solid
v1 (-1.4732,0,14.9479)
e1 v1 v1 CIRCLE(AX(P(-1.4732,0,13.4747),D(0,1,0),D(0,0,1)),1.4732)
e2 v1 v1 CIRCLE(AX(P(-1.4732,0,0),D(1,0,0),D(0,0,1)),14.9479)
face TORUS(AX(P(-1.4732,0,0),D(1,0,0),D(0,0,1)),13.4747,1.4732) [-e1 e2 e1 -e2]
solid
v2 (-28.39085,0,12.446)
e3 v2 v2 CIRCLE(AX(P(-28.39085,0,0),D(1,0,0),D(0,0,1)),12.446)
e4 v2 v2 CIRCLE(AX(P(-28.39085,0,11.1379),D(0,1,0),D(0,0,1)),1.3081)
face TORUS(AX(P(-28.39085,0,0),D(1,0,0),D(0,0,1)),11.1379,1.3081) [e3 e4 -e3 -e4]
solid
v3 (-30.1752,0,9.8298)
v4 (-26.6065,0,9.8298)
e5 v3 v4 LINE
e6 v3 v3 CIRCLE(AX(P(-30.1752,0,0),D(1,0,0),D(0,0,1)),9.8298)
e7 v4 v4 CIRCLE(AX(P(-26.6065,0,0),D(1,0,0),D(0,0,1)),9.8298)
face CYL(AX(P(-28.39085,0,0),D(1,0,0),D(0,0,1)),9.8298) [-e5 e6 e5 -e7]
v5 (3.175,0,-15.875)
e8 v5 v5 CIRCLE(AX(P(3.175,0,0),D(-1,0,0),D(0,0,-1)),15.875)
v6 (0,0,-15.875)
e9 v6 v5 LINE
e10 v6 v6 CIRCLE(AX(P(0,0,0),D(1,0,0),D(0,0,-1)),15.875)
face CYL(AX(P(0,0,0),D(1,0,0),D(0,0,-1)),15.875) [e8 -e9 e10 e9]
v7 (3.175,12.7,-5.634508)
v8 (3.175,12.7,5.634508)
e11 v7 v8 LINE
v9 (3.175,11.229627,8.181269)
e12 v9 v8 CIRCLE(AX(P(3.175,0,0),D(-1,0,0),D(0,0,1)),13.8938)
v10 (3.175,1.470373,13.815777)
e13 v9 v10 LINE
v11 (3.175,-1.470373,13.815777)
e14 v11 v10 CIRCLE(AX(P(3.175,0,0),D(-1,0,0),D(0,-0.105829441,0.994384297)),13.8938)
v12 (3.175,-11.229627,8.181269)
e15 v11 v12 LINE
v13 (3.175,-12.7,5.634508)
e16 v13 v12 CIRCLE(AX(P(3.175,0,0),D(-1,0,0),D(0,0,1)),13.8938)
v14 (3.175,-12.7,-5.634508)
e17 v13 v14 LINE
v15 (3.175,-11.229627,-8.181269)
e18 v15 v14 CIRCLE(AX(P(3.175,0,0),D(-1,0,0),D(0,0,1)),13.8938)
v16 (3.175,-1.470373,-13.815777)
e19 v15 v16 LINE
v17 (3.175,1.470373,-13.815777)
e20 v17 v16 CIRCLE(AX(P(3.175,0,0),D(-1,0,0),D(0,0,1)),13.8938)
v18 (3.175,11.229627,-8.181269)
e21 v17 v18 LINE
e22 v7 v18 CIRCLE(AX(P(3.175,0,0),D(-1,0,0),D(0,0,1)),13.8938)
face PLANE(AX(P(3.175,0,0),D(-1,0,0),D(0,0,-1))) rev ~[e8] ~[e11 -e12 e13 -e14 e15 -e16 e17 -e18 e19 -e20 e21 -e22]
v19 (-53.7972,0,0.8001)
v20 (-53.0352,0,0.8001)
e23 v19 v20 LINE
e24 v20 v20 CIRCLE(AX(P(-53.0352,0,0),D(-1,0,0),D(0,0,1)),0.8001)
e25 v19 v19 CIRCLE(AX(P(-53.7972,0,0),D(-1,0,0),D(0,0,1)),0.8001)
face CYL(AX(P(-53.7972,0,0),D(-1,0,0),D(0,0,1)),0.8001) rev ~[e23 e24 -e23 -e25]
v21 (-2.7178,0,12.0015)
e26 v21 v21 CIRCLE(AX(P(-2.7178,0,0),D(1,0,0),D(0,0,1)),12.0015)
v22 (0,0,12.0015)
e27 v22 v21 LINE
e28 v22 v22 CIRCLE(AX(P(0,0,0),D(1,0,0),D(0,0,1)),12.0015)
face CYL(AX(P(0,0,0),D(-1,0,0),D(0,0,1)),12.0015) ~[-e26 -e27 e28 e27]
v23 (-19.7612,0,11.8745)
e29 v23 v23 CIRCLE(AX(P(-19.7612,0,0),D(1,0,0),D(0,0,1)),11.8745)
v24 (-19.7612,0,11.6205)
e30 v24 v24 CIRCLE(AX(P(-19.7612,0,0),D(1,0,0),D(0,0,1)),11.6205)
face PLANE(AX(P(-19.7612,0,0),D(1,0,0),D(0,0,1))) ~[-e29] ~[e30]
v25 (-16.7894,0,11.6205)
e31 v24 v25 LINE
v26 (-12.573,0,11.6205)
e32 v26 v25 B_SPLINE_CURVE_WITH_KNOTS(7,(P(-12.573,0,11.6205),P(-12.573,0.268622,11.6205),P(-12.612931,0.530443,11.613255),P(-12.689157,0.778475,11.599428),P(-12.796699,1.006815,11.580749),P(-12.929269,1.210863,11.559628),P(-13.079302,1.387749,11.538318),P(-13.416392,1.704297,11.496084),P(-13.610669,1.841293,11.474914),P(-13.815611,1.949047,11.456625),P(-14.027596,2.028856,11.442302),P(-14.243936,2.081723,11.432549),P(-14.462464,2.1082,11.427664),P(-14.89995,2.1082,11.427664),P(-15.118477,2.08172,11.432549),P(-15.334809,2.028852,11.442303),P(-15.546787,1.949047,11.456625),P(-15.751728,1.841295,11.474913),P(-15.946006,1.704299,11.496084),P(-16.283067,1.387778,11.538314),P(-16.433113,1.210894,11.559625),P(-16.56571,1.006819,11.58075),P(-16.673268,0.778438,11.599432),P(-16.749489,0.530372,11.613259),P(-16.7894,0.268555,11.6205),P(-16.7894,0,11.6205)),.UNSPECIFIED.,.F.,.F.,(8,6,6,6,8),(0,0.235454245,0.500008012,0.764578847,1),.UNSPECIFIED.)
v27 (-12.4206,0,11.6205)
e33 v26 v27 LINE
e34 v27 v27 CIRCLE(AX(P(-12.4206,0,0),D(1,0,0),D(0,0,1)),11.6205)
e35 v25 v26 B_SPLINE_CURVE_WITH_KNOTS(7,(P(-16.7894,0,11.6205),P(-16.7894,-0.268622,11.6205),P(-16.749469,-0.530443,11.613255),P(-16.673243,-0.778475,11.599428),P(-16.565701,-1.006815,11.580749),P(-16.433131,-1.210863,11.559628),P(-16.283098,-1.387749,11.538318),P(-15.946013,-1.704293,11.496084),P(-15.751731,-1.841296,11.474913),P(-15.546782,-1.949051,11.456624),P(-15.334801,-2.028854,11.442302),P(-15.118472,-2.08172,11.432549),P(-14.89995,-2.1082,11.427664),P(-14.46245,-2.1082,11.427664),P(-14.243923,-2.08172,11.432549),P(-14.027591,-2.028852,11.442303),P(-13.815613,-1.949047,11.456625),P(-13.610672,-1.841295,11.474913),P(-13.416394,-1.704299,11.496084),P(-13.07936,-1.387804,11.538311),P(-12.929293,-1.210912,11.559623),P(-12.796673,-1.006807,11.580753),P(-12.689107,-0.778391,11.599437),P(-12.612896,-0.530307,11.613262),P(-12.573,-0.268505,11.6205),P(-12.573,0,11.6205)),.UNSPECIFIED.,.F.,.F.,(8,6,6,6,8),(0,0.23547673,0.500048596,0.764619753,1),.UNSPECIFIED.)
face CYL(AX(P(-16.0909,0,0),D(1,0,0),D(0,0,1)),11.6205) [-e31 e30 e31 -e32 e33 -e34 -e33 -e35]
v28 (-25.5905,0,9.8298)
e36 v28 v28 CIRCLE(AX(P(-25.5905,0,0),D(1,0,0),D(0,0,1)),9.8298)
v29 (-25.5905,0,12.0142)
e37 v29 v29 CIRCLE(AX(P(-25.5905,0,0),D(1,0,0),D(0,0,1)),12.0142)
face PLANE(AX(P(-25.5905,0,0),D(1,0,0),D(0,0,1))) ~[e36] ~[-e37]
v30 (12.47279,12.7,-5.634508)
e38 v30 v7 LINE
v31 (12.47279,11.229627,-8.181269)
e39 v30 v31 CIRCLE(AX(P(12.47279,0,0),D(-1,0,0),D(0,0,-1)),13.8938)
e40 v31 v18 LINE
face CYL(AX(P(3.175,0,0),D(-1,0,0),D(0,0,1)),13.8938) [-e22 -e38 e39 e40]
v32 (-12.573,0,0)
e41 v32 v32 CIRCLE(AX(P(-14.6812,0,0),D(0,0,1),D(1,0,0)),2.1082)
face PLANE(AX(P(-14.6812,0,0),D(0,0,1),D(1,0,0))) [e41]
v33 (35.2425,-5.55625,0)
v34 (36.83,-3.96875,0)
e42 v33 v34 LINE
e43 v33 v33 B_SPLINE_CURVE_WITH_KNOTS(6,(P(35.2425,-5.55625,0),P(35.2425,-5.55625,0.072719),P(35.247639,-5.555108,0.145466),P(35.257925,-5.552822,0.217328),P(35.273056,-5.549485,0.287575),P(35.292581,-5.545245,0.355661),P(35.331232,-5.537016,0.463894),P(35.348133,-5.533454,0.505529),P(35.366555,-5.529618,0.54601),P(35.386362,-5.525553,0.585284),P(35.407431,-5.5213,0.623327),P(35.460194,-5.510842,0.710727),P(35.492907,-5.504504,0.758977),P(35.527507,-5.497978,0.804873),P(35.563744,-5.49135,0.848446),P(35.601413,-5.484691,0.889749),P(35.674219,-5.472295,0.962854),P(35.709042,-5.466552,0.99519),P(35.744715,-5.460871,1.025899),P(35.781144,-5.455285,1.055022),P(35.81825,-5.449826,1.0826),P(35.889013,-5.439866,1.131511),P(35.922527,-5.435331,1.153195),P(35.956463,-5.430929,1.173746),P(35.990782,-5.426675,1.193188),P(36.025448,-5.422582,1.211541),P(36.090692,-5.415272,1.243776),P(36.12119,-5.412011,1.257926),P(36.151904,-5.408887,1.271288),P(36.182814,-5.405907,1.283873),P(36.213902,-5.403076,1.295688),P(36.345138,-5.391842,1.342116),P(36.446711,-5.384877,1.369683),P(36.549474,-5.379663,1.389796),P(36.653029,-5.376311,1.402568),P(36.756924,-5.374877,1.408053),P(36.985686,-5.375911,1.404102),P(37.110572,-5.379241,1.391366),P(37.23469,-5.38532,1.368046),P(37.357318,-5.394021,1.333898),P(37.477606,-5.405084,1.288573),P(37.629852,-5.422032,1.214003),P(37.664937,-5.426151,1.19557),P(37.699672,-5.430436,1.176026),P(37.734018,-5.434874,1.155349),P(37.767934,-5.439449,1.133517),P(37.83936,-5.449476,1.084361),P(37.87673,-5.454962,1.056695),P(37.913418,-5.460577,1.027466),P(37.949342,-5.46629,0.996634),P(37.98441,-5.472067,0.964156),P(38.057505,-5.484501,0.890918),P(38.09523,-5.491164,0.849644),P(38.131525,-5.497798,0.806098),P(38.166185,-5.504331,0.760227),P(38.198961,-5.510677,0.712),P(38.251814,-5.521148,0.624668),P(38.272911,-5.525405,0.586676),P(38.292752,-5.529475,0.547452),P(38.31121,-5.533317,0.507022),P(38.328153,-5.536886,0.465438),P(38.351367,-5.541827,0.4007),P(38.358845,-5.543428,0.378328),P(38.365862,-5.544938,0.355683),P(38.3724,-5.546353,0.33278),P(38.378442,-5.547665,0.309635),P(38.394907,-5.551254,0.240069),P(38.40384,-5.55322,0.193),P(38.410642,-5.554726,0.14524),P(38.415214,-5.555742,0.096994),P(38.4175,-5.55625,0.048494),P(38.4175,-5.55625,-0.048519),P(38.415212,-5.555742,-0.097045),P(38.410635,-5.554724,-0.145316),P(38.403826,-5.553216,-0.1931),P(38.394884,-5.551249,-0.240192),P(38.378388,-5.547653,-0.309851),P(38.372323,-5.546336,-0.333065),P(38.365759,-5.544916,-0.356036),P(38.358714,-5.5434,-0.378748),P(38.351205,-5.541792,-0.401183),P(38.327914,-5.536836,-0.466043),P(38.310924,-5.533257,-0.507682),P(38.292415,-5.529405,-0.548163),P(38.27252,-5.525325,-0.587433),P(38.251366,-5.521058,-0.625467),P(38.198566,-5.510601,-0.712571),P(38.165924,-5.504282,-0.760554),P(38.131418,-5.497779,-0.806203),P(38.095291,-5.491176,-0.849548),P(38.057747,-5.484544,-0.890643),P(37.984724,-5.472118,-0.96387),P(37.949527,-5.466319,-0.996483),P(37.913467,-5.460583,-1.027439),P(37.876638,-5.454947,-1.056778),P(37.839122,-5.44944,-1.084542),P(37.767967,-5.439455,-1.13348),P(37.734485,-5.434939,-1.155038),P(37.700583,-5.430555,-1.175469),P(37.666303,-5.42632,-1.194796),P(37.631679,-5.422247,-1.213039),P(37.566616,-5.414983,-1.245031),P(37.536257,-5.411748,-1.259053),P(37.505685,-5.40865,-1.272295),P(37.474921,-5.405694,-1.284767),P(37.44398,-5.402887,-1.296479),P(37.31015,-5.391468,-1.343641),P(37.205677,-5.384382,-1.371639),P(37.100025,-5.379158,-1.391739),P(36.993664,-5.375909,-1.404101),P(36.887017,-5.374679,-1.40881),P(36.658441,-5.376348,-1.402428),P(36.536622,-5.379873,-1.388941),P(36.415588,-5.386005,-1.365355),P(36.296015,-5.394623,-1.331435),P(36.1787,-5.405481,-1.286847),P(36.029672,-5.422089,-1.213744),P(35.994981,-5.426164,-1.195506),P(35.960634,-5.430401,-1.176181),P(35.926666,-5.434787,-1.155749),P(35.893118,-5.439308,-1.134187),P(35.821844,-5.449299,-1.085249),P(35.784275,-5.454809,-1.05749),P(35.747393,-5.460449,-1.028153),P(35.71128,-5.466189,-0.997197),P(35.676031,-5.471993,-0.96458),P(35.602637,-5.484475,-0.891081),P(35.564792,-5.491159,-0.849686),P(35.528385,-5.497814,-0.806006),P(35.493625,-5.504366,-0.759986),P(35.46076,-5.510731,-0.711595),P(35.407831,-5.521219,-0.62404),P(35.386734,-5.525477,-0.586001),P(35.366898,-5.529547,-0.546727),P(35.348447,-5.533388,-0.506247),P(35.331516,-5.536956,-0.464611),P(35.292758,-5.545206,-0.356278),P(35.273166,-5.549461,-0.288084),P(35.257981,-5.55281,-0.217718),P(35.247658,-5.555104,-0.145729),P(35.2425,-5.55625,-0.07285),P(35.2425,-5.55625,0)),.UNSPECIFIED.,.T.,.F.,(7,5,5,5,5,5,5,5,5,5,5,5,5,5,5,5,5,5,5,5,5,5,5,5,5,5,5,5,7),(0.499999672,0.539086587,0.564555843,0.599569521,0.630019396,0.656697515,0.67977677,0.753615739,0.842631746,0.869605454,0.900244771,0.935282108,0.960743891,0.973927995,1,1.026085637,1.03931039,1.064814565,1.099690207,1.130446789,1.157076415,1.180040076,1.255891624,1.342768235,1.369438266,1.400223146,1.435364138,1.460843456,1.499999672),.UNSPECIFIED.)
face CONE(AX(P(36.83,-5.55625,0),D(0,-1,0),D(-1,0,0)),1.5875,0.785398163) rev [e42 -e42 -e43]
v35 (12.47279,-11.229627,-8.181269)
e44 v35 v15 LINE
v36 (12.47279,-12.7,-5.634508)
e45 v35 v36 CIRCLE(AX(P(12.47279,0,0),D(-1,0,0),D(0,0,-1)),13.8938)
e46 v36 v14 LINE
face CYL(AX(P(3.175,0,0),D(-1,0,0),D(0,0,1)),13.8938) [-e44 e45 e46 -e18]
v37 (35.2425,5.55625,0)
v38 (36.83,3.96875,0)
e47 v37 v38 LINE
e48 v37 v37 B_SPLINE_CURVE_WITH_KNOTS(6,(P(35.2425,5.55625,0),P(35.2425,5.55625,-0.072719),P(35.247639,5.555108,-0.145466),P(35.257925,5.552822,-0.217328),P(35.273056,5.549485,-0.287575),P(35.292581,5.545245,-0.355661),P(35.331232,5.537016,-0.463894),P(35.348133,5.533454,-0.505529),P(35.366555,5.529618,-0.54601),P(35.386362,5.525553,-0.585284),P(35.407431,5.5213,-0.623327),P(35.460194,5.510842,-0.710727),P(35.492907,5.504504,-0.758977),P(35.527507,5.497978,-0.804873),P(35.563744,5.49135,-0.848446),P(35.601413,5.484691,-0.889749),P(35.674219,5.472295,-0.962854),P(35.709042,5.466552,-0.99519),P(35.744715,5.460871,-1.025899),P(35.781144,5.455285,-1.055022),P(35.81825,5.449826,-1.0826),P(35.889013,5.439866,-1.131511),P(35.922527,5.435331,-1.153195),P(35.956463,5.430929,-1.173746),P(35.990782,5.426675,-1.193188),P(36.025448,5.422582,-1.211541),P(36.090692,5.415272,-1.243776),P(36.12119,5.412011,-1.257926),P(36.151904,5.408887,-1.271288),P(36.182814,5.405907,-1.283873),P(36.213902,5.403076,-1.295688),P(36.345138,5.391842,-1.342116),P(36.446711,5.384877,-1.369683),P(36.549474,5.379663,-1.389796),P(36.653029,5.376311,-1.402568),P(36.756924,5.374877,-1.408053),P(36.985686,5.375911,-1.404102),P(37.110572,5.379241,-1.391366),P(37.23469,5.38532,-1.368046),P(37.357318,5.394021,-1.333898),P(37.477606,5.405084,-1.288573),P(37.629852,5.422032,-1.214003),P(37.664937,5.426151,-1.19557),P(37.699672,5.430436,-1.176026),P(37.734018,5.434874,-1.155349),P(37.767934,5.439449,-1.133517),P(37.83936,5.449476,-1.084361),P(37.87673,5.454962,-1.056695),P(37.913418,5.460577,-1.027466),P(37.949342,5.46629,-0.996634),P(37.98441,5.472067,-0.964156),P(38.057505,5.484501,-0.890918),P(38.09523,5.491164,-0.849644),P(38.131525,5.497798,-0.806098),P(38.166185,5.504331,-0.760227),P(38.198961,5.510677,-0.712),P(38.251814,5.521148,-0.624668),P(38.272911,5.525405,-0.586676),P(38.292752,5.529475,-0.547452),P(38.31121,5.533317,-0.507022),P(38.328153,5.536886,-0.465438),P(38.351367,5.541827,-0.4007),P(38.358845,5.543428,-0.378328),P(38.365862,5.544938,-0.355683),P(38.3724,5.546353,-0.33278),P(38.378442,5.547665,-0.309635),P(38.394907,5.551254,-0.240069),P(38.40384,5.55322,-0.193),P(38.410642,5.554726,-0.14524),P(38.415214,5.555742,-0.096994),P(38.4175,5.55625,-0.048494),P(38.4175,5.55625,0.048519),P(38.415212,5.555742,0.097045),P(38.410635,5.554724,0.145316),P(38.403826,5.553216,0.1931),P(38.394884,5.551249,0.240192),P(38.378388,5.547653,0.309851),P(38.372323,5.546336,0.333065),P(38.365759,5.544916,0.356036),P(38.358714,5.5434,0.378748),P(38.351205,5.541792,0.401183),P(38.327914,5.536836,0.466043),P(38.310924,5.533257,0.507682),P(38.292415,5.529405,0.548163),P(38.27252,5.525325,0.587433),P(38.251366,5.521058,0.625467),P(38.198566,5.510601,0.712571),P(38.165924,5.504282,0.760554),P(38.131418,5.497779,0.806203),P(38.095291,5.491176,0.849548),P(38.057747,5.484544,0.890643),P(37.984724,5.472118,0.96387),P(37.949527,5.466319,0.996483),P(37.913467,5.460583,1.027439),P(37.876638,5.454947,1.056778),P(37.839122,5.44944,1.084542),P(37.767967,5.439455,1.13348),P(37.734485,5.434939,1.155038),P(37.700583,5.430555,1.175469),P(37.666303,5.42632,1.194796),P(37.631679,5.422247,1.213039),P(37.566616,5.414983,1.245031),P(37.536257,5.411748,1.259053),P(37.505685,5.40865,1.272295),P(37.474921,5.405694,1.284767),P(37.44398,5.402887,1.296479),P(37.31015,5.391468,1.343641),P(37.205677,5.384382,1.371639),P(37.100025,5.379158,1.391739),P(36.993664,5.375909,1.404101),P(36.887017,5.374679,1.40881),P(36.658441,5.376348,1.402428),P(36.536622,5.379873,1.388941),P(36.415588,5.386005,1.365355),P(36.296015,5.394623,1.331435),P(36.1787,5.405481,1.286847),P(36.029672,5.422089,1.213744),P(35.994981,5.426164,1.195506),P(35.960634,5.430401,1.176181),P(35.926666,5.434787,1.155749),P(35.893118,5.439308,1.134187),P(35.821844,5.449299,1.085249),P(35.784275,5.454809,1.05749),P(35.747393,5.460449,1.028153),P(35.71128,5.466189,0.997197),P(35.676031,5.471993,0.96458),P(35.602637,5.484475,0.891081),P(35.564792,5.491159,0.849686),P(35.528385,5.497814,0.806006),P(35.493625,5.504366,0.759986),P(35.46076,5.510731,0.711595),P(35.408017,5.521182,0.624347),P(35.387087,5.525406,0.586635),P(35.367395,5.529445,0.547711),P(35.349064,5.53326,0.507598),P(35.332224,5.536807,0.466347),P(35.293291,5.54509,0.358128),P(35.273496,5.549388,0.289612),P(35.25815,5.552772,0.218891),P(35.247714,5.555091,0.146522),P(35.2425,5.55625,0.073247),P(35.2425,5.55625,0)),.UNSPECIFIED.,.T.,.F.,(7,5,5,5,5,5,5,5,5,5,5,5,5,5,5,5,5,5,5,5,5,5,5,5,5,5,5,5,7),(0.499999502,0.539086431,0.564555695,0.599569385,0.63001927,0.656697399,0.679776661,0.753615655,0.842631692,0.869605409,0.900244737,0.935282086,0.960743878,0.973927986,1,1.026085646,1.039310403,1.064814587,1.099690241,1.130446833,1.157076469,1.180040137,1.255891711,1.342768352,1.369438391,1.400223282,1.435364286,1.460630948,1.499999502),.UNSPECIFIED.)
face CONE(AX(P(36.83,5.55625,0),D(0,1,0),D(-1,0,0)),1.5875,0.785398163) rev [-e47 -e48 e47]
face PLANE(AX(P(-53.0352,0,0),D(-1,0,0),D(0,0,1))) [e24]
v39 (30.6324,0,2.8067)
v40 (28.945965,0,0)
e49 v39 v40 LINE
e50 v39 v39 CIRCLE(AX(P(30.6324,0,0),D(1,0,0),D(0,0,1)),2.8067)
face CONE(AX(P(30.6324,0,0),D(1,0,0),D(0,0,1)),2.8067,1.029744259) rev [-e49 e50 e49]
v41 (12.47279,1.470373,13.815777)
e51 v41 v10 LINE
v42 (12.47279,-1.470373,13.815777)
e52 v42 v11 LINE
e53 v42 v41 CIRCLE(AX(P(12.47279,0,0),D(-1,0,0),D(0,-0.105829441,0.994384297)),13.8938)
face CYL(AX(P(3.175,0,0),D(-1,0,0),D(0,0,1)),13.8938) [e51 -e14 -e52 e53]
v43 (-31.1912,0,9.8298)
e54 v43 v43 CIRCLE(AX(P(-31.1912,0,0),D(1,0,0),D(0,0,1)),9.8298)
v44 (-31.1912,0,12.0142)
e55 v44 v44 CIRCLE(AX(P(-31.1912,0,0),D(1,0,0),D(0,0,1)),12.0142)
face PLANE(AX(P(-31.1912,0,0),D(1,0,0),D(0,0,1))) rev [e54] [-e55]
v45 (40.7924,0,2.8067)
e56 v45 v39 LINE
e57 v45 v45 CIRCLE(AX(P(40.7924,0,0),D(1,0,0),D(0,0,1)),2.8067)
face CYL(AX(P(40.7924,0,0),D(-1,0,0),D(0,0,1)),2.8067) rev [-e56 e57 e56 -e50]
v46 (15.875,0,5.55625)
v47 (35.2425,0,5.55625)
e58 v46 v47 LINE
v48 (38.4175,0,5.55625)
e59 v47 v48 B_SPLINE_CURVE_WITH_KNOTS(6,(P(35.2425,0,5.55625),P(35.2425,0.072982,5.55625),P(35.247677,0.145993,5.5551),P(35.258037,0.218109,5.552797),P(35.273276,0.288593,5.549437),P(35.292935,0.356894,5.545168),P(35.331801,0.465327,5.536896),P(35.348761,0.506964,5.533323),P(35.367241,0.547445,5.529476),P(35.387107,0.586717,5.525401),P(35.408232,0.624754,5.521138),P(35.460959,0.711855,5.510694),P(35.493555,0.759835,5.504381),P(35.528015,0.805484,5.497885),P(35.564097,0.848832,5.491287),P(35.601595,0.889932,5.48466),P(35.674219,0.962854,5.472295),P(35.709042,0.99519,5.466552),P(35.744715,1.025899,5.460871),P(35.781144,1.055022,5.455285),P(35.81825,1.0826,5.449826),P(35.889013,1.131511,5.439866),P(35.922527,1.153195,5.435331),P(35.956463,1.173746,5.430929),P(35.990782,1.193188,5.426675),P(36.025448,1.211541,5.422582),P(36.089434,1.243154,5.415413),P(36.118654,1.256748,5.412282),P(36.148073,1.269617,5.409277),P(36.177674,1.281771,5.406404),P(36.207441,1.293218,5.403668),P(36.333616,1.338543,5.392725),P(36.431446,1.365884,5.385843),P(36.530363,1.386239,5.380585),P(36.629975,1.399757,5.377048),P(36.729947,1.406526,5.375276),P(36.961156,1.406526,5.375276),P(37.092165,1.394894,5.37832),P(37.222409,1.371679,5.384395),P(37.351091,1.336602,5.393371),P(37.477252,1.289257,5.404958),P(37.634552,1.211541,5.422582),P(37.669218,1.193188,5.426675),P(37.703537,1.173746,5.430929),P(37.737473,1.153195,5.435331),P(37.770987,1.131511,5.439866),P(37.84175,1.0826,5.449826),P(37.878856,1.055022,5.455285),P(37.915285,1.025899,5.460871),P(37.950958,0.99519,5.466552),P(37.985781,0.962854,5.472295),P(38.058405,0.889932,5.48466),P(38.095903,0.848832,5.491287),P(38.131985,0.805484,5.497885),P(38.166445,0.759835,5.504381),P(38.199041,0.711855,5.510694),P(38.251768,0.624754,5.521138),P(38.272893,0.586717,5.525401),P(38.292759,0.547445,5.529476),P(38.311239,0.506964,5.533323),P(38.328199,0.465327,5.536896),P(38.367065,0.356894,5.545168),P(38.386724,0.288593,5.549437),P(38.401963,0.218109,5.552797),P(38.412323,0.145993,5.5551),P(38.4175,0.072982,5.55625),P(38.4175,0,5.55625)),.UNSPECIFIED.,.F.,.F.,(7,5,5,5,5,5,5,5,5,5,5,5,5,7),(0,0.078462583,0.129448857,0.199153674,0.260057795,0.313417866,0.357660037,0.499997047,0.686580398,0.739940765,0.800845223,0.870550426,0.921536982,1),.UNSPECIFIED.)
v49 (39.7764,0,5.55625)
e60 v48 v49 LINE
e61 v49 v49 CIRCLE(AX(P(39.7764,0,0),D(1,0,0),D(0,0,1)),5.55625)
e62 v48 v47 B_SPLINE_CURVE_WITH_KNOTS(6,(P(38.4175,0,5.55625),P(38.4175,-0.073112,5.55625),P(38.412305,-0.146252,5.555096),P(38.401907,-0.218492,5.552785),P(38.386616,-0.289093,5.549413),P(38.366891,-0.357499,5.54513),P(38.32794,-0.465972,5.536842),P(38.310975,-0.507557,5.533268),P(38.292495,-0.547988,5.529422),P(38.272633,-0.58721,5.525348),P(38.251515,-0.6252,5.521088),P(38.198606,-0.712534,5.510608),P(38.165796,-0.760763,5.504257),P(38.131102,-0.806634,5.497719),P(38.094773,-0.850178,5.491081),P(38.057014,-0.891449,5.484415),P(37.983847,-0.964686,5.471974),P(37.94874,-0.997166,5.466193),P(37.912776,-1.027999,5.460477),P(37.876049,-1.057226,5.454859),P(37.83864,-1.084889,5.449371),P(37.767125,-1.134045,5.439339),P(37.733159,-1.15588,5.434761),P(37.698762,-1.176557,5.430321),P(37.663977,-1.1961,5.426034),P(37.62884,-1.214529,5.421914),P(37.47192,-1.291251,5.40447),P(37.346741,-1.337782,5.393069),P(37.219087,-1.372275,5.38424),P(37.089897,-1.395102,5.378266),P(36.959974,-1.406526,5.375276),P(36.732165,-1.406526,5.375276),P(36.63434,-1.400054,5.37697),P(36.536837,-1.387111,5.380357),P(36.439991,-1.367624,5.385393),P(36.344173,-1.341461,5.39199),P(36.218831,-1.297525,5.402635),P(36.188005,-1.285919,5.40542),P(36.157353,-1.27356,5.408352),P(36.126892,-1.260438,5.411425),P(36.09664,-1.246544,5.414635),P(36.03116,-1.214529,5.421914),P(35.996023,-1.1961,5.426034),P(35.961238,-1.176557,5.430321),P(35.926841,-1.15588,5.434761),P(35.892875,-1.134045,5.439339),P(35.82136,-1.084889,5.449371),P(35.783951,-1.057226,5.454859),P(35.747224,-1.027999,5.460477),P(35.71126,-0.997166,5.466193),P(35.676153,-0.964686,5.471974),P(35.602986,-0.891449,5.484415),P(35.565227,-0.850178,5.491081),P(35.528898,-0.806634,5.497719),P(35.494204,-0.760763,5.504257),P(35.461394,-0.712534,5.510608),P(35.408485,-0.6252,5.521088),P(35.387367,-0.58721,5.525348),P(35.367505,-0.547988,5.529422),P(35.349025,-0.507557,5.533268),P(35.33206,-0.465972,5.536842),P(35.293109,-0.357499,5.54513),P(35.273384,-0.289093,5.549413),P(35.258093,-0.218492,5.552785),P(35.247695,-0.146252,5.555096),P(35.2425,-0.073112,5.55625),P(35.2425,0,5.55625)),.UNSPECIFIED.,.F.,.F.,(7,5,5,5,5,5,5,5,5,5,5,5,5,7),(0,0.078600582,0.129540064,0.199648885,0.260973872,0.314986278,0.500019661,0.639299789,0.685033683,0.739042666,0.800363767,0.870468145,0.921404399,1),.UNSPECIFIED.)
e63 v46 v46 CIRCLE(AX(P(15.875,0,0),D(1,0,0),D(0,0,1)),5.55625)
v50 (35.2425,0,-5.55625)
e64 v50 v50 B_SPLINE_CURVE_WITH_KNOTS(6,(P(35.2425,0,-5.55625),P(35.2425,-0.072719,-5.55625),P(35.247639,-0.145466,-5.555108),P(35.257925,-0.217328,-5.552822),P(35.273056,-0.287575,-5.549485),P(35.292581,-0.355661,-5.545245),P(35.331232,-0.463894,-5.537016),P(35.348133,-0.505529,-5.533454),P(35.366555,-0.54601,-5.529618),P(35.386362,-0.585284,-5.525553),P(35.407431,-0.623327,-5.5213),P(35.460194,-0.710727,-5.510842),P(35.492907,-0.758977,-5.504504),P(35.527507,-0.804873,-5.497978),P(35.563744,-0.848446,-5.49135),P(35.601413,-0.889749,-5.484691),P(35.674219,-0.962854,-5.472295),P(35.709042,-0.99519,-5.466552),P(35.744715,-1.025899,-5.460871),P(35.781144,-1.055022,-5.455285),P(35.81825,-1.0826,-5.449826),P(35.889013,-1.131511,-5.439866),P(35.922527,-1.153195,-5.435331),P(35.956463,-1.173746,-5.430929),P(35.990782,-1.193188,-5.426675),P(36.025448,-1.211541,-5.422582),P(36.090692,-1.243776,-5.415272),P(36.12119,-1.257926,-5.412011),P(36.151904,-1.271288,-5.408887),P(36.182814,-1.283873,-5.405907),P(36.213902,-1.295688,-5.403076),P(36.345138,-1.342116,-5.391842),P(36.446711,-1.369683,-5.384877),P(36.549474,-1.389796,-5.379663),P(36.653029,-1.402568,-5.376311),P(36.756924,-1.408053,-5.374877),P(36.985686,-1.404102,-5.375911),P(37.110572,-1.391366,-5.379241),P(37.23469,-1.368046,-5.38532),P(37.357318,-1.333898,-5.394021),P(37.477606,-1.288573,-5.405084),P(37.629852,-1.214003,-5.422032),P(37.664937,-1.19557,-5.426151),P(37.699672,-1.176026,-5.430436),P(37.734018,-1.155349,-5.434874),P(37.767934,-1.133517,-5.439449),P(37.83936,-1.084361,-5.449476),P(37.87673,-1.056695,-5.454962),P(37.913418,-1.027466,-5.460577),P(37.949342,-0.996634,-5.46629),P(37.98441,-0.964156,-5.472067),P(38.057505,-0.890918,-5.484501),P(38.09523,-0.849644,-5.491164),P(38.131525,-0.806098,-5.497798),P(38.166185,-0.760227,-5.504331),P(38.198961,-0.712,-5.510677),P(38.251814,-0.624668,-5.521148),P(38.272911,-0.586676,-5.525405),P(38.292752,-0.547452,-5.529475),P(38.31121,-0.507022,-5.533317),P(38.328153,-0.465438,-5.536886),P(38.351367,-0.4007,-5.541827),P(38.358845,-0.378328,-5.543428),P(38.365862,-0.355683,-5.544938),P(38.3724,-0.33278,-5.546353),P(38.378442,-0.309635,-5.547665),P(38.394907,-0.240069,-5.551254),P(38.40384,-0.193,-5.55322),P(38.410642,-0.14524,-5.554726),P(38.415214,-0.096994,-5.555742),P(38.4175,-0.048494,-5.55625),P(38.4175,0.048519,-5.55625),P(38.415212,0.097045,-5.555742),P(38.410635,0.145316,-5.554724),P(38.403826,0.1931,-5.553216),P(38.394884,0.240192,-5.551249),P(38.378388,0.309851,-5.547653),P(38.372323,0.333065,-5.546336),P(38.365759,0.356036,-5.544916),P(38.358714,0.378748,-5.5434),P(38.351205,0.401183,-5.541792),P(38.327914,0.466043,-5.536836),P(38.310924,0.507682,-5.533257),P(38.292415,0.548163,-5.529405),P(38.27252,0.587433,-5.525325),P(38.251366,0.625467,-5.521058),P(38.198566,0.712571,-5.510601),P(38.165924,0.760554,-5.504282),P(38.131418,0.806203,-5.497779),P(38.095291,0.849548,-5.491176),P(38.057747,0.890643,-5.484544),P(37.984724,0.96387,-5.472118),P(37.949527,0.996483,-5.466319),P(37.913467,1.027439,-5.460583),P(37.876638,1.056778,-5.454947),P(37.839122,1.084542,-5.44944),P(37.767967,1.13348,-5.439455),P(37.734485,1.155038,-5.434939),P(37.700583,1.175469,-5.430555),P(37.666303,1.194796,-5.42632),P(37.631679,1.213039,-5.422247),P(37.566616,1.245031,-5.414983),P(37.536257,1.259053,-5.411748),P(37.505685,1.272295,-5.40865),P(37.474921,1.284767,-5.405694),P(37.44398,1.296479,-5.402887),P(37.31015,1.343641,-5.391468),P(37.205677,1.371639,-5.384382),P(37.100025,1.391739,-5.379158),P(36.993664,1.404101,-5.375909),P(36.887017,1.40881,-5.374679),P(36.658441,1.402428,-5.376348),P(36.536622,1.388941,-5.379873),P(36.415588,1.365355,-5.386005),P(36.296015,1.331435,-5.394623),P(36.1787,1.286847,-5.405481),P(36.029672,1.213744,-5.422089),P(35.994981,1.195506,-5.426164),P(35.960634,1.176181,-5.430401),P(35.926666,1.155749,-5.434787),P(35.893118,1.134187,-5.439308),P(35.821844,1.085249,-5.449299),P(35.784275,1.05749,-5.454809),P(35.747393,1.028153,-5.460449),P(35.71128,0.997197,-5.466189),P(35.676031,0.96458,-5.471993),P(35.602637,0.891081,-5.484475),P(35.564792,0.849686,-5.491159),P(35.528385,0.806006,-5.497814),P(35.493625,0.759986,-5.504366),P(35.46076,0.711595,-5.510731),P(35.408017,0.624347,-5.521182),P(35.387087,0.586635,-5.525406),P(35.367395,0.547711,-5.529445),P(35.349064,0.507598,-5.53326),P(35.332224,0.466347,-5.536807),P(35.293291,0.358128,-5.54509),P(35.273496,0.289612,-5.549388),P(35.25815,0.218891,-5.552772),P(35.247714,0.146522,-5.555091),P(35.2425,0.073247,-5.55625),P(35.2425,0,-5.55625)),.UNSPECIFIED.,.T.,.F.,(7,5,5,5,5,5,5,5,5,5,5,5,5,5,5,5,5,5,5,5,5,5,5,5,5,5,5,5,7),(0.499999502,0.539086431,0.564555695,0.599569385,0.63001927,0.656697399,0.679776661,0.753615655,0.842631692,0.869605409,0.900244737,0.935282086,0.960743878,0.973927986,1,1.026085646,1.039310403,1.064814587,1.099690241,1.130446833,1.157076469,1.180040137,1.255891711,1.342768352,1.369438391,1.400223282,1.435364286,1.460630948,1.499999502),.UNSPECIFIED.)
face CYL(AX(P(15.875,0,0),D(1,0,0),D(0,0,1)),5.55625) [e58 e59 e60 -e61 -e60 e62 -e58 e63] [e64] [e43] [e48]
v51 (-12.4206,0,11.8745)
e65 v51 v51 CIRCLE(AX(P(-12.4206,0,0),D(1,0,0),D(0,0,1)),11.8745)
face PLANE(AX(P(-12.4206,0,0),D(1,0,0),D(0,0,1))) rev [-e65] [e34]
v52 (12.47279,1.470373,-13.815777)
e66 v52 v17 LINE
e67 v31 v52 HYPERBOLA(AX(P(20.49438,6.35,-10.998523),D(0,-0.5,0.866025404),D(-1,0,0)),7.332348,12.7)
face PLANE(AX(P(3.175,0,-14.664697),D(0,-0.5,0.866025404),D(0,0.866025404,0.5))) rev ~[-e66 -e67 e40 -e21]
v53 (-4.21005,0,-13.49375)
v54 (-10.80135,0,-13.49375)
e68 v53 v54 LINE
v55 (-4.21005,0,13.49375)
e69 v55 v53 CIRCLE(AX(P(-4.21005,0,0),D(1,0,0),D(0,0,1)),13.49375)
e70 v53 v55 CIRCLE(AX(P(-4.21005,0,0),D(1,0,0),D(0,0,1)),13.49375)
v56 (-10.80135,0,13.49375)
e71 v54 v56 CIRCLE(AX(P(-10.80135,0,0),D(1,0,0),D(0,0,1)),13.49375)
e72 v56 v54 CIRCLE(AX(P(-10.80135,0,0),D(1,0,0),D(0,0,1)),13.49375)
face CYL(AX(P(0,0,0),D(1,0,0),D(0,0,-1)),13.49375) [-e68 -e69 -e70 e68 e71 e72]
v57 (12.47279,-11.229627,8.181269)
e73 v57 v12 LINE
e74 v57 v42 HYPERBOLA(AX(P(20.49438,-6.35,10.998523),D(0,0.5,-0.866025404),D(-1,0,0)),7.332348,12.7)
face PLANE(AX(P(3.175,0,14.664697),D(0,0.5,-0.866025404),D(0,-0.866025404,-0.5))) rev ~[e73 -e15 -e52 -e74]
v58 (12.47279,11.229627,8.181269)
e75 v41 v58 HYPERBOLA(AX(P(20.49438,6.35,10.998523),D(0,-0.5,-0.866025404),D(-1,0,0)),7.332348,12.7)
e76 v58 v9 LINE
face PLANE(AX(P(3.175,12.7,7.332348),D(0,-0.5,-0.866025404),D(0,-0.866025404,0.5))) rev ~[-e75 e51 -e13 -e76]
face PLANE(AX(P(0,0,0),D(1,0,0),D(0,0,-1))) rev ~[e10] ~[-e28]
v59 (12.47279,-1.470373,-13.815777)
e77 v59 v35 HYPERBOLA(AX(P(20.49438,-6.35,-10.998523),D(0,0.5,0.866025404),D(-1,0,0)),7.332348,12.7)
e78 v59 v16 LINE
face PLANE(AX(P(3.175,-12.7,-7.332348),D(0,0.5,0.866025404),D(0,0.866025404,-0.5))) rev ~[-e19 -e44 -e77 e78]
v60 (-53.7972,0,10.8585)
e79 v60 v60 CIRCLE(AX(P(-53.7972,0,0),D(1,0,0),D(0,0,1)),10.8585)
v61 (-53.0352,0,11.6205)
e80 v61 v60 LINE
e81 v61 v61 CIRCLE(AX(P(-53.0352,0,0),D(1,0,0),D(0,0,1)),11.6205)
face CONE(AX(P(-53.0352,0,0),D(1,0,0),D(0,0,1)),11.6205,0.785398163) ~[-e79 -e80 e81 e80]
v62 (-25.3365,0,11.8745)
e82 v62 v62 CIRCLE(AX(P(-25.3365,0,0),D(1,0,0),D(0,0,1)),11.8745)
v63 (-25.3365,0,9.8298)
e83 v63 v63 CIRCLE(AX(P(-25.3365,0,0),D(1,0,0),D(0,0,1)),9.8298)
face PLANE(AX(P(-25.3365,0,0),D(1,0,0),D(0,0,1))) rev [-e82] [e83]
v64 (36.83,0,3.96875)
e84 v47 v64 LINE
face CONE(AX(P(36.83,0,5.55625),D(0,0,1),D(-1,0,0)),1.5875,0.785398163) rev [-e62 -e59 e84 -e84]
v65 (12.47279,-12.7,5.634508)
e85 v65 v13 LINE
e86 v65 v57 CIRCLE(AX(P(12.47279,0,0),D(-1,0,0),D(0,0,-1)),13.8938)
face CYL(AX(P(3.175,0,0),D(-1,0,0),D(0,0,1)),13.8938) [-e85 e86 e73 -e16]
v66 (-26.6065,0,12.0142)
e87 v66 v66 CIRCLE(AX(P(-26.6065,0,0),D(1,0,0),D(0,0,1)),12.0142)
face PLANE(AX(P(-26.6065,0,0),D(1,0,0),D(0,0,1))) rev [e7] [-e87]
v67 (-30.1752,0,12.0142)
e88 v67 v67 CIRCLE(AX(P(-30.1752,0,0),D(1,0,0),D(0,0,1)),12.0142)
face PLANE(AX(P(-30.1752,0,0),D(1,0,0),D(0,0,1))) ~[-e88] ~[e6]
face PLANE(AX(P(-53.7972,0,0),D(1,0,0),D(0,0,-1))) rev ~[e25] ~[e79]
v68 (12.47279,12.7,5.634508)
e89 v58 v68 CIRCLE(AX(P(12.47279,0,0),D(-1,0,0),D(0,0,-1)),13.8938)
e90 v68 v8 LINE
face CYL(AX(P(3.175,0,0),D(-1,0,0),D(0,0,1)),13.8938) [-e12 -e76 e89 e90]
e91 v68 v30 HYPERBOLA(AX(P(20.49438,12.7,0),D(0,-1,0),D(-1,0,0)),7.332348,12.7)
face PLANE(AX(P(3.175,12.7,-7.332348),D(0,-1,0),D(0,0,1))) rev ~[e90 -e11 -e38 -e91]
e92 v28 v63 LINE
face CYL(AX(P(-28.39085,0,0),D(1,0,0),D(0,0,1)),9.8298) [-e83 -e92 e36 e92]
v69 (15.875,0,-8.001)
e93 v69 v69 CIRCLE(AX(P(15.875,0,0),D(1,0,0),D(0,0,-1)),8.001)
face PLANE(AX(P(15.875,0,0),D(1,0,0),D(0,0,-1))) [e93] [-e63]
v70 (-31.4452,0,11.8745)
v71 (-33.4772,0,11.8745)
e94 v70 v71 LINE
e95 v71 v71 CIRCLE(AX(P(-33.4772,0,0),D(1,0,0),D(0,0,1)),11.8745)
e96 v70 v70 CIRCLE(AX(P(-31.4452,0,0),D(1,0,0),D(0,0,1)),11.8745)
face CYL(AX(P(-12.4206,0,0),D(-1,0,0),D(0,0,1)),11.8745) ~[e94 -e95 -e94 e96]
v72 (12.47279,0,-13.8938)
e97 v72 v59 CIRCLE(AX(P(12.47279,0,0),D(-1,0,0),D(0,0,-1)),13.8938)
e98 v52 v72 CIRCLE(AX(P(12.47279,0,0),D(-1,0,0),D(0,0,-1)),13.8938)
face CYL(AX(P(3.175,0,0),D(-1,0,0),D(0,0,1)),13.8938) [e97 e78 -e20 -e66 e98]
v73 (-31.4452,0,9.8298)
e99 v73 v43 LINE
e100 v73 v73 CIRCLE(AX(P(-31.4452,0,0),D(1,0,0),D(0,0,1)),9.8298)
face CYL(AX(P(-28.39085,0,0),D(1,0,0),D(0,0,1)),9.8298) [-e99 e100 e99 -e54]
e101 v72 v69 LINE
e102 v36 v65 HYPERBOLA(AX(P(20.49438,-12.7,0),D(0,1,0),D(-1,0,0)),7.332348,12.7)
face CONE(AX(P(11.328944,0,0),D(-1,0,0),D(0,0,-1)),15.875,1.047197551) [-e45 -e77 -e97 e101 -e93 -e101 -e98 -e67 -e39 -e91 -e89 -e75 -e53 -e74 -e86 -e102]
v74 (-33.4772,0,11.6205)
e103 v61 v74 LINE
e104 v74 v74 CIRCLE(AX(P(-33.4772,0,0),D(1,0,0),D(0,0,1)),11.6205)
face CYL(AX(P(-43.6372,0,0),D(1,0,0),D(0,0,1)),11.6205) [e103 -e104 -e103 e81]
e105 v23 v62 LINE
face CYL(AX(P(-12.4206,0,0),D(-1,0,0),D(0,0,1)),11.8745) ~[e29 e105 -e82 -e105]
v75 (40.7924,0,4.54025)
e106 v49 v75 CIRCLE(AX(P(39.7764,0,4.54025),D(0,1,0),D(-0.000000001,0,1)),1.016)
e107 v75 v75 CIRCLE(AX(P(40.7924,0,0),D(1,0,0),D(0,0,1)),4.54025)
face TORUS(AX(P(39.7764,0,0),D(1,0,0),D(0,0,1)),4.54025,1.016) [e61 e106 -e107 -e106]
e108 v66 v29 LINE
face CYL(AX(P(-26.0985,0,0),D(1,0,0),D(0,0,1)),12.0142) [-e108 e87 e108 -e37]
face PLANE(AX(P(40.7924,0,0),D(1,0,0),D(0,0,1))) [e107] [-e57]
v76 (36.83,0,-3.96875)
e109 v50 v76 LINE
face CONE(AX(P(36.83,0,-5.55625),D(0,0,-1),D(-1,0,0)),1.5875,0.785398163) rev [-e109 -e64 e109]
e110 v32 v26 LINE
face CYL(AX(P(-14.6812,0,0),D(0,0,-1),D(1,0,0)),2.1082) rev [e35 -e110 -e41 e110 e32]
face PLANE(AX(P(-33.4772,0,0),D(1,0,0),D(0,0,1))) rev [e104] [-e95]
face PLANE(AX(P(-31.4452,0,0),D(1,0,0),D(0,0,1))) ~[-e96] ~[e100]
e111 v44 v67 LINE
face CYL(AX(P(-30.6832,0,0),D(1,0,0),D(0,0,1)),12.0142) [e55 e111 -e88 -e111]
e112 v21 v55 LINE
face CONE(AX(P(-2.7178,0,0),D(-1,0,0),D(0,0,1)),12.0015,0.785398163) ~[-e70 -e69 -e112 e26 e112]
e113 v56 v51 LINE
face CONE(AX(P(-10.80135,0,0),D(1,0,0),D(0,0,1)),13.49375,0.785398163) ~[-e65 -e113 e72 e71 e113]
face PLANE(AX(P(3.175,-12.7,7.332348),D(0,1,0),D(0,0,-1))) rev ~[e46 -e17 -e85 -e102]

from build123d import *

# Parameters (mm, degrees)
SKETCH1_R           = 15.875
EXTRUDE1_DEPTH      = 15.875
EXTRUDE1_DEPTH_BACK = 53.7972
CUT_EXTRUDE1_REACH  = 55.797
SKETCH2_R           = 15.875
SKETCH2_R_2         = 13.49375
CUT_EXTRUDE3_REACH  = 14.7
SKETCH5_R           = 15.875
CUT_EXTRUDE5_REACH  = 14.7
SKETCH7_R           = 15.875
SKETCH7_R_2         = 13.8938
SKETCH12_W          = 6.1087
SKETCH12_H          = 2.0447
SKETCH14_W          = 0.254
SKETCH14_H          = 20.32
SKETCH14_H_2        = 7.3406
SKETCH15_R          = 1.4732
SKETCH16_W          = 2.1844
SKETCH16_H          = 1.016
SKETCH17_R          = 1.3081
CIRPATTERN1_COUNT   = 4
CHAMFER1_SIZE       = 0.762
SKETCH22_R          = 0.8001
CUT_EXTRUDE6_DEPTH  = 0.762
SKETCH23_R          = 2.1082
CUT_EXTRUDE7_DEPTH  = 16.875


with BuildPart() as part:
    # Sketch1 → Extrude1 (new body, two sides)
    with BuildSketch(Plane(origin=(0, 0, 0), x_dir=(0, 0, -1), z_dir=(1, 0, 0))) as extrude1_sk:
        Circle(SKETCH1_R)
    extrude(amount=EXTRUDE1_DEPTH)
    extrude(extrude1_sk.sketch, amount=-EXTRUDE1_DEPTH_BACK)

    # Sketch2 → Cut-Extrude1 (cut, up to next)
    with BuildSketch(Plane(origin=(0, 0, 0), x_dir=(0, 0, -1), z_dir=(1, 0, 0)), mode=Mode.PRIVATE) as cut_extrude1_sk1:
        Circle(SKETCH2_R)
        Circle(SKETCH2_R_2, mode=Mode.SUBTRACT)
    cut_extrude1_tool1 = extrude(cut_extrude1_sk1.sketch, amount=-CUT_EXTRUDE1_REACH, mode=Mode.PRIVATE) & part.part
    add(cut_extrude1_tool1.solids().sort_by_distance((0, 0, 15.425987))[0], mode=Mode.SUBTRACT)

    # Sketch3 → Cut-Revolve1 (revolve, cut)
    with BuildSketch(Plane.XY, mode=Mode.PRIVATE) as cut_revolve1_sk:
        Polygon((11.32894398, 15.875), (15.875, 8.001), (15.875, 15.875), align=None)
    revolve(cut_revolve1_sk.sketch.rotate(Axis((-8.14577342, 0, 0), (1, 0, 0)), 270), axis=Axis((-8.14577342, 0, 0), (1, 0, 0)), mode=Mode.SUBTRACT)  # turned: the seam where the file's is

    # Cut-Extrude3: up to this cone (the profile starts inside it)
    cut_extrude3_end = Plane(origin=(3.175, 0, 0), z_dir=(-1, 0, 0)).offset(-17.319378504) * Cone(1.732e-06, 108.283356043, 62.51742376, align=(Align.CENTER, Align.CENTER, Align.MIN), mode=Mode.PRIVATE)
    # Sketch5 → Cut-Extrude3 (cut, up to the surface)
    with BuildSketch(Plane.ZY.offset(-3.175), mode=Mode.PRIVATE) as cut_extrude3_sk1:
        with Locations(Location((0, 0, 0), (0, 0, 180))):  # turned: the seam where the file's is
            Circle(SKETCH5_R)
        Polygon((-7.332348419, 12.7), (7.332348419, 12.7), (14.664696837, 0), (7.332348419, -12.7), (-7.332348419, -12.7), (-14.664696837, 0), align=None, mode=Mode.SUBTRACT)
    cut_extrude3_tool1 = extrude(cut_extrude3_sk1.sketch, amount=-CUT_EXTRUDE3_REACH, mode=Mode.PRIVATE) & cut_extrude3_end
    add(cut_extrude3_tool1.solids().sort_by_distance((3.175, 0, 15.425987))[0], mode=Mode.SUBTRACT)

    # Cut-Extrude5: up to this cone (the profile starts inside it)
    cut_extrude5_end = Plane(origin=(3.175, 0, 0), z_dir=(-1, 0, 0)).offset(-17.319378504) * Cone(1.732e-06, 108.283356043, 62.51742376, align=(Align.CENTER, Align.CENTER, Align.MIN), mode=Mode.PRIVATE)
    # Sketch7 → Cut-Extrude5 (cut, up to the surface)
    with BuildSketch(Plane.ZY.offset(-3.175), mode=Mode.PRIVATE) as cut_extrude5_sk1:
        with Locations(Location((0, 0, 0), (0, 0, 180))):  # turned: the seam where the file's is
            Circle(SKETCH7_R)
        Circle(SKETCH7_R_2, mode=Mode.SUBTRACT)
    cut_extrude5_tool1 = extrude(cut_extrude5_sk1.sketch, amount=-CUT_EXTRUDE5_REACH, mode=Mode.PRIVATE) & cut_extrude5_end
    add(cut_extrude5_tool1.solids().sort_by_distance((3.175, 0, 15.425987))[0], mode=Mode.SUBTRACT)

    # Sketch9 → Cut-Revolve3 (revolve, cut)
    with BuildSketch(Plane.XY, mode=Mode.PRIVATE) as cut_revolve3_sk:
        Polygon((0, 13.49375), (0, 12.0015), (-2.7178, 12.0015), (-4.21005, 13.49375), align=None)
    revolve(cut_revolve3_sk.sketch.rotate(Axis((-4.4205525, 0, 0), (1, 0, 0)), 90), axis=Axis((-4.4205525, 0, 0), (1, 0, 0)), mode=Mode.SUBTRACT)  # turned: the seam where the file's is

    # Sketch10 → Cut-Revolve4 (revolve, cut)
    with BuildSketch(Plane.XY, mode=Mode.PRIVATE) as cut_revolve4_sk:
        Polygon((-10.80135, 13.49375), (-12.4206, 11.8745), (-53.7972, 11.8745), (-53.7972, 13.49375), align=None)
    revolve(cut_revolve4_sk.sketch.rotate(Axis((-55.9469925, 0, 0), (1, 0, 0)), 90), axis=Axis((-55.9469925, 0, 0), (1, 0, 0)), mode=Mode.SUBTRACT)  # turned: the seam where the file's is

    # Sketch12 → Cut-Revolve6 (revolve, cut)
    with BuildSketch(Plane.XY, mode=Mode.PRIVATE) as cut_revolve6_sk:
        with Locations((-28.39085, 10.85215)):
            Rectangle(SKETCH12_W, SKETCH12_H)
    revolve(cut_revolve6_sk.sketch.rotate(Axis((-31.750635, 0, 0), (1, 0, 0)), 90), axis=Axis((-31.750635, 0, 0), (1, 0, 0)), mode=Mode.SUBTRACT)  # turned: the seam where the file's is

    # Sketch14 → Cut-Revolve8 (revolve, cut)
    with BuildSketch(Plane(origin=(0, 0, 0), x_dir=(0, -1, 0), z_dir=(0, 0, 1)), mode=Mode.PRIVATE) as cut_revolve8_sk:
        with Locations((11.7475, -43.6372)):
            Rectangle(SKETCH14_W, SKETCH14_H)
        with Locations((11.7475, -16.0909)):
            Rectangle(SKETCH14_W, SKETCH14_H_2)
    revolve(cut_revolve8_sk.sketch.rotate(Axis((-55.86603, 0, 0), (1, 0, 0)), 270), axis=Axis((-55.86603, 0, 0), (1, 0, 0)), mode=Mode.SUBTRACT)  # turned: the seam where the file's is

    # Sketch16 → Revolve2 (revolve)
    with BuildSketch(Plane(origin=(0, 0, 0), x_dir=(0, -1, 0), z_dir=(0, 0, 1)), mode=Mode.PRIVATE) as revolve2_sk:
        with Locations((10.922, -26.0985)):
            Rectangle(SKETCH16_W, SKETCH16_H)
        with Locations((10.922, -30.6832)):
            Rectangle(SKETCH16_W, SKETCH16_H)
    revolve(revolve2_sk.sketch.rotate(Axis((-31.471235, 0, 0), (1, 0, 0)), 270), axis=Axis((-31.471235, 0, 0), (1, 0, 0)))  # turned: the seam where the file's is

    # S2D0001 → Revolve4 (revolve)
    with BuildSketch(Plane(origin=(0, 0, 0), x_dir=(0, -1, 0), z_dir=(0, 0, 1)), mode=Mode.PRIVATE) as revolve4_sk:
        with BuildLine():
            Line((0, 15.875), (-5.55625, 15.875))
            Line((-5.55625, 15.875), (-5.55625, 39.7764))
            ThreePointArc((-5.55625, 39.7764), (-5.25867049, 40.49482049), (-4.54025, 40.7924))
            Line((-4.54025, 40.7924), (0, 40.7924))
            Line((0, 40.7924), (0, 15.875))
        make_face()
    revolve(revolve4_sk.sketch.rotate(Axis((7.265766347, 0, 0), (1, 0, 0)), 90), axis=Axis((7.265766347, 0, 0), (1, 0, 0)))  # turned: the seam where the file's is

    # Sketch19 → Cut-Revolve9 (revolve, cut)
    with BuildSketch(Plane(origin=(36.322, -2.8067, 0), x_dir=(0, -1, 0), z_dir=(0, 0, 1)), mode=Mode.PRIVATE) as cut_revolve9_sk:
        Polygon((0, 4.4704), (0, -5.6896), (-2.8067, -7.376035499), (-2.8067, 4.4704), align=None)
    revolve(cut_revolve9_sk.sketch.rotate(Axis((17.699325537, 0, 0), (1, 0, 0)), 270), axis=Axis((17.699325537, 0, 0), (1, 0, 0)), mode=Mode.SUBTRACT)  # turned: the seam where the file's is

    # S2D0002 → Cut-Revolve10 (revolve, cut)
    with BuildSketch(Plane(origin=(32.3596, 0, -5.55625), x_dir=(1, 0, 0), z_dir=(0, 1, 0)), mode=Mode.PRIVATE) as cut_revolve10_sk:
        Polygon((4.4704, 0), (6.0579, 0), (4.4704, -1.5875), align=None)
    cut_revolve10 = revolve(cut_revolve10_sk.sketch.rotate(Axis((36.83, 0, -2.191027232), (0, 0, -1)), 180), axis=Axis((36.83, 0, -2.191027232), (0, 0, -1)), mode=Mode.SUBTRACT)  # turned: the seam where the file's is

    # CirPattern1: Cut-Revolve10 ×4 about axis
    cirpattern1_axis = Axis((7.265766347, 0, 0), (-1, 0, 0))
    for i in range(1, CIRPATTERN1_COUNT):
        add(cut_revolve10.rotate(cirpattern1_axis, i * 360 / CIRPATTERN1_COUNT), mode=Mode.SUBTRACT)

    # Chamfer1
    chamfer1_edges = [part.edges().sort_by_distance(p)[0] for p in [
        (-53.7972, 0, -11.6205),
    ]]
    chamfer(chamfer1_edges, length=CHAMFER1_SIZE)

    # Sketch22 → Cut-Extrude6 (cut)
    with BuildSketch(Plane.ZY.offset(53.7972)):
        Circle(SKETCH22_R)
    extrude(amount=-CUT_EXTRUDE6_DEPTH, mode=Mode.SUBTRACT)

    # Sketch23 → Cut-Extrude7 (cut, through all)
    with BuildSketch(Plane.XY):
        with Locations((-14.6812, 0)):
            Circle(SKETCH23_R)
    extrude(amount=CUT_EXTRUDE7_DEPTH, mode=Mode.SUBTRACT)


with BuildPart() as body_2:
    # Sketch15 → Revolve1 (revolve)
    with BuildSketch(Plane(origin=(0, 0, 0), x_dir=(0, -1, 0), z_dir=(0, 0, 1)), mode=Mode.PRIVATE) as revolve1_sk:
        with Locations((13.4747, -1.4732)):
            Circle(SKETCH15_R)
    revolve(revolve1_sk.sketch.rotate(Axis((-3.09372, 0, 0), (1, 0, 0)), 270), axis=Axis((-3.09372, 0, 0), (1, 0, 0)))  # turned: the seam where the file's is


with BuildPart() as body_3:
    # Sketch17 → Revolve3 (revolve)
    with BuildSketch(Plane(origin=(0, 0, 0), x_dir=(0, -1, 0), z_dir=(0, 0, 1)), mode=Mode.PRIVATE) as revolve3_sk:
        with Locations((11.1379, -28.39085)):
            Circle(SKETCH17_R)
    revolve(revolve3_sk.sketch.rotate(Axis((-31.750635, 0, 0), (1, 0, 0)), 270), axis=Axis((-31.750635, 0, 0), (1, 0, 0)))  # turned: the seam where the file's is


solid = Compound([part.part, body_2.part, body_3.part])
